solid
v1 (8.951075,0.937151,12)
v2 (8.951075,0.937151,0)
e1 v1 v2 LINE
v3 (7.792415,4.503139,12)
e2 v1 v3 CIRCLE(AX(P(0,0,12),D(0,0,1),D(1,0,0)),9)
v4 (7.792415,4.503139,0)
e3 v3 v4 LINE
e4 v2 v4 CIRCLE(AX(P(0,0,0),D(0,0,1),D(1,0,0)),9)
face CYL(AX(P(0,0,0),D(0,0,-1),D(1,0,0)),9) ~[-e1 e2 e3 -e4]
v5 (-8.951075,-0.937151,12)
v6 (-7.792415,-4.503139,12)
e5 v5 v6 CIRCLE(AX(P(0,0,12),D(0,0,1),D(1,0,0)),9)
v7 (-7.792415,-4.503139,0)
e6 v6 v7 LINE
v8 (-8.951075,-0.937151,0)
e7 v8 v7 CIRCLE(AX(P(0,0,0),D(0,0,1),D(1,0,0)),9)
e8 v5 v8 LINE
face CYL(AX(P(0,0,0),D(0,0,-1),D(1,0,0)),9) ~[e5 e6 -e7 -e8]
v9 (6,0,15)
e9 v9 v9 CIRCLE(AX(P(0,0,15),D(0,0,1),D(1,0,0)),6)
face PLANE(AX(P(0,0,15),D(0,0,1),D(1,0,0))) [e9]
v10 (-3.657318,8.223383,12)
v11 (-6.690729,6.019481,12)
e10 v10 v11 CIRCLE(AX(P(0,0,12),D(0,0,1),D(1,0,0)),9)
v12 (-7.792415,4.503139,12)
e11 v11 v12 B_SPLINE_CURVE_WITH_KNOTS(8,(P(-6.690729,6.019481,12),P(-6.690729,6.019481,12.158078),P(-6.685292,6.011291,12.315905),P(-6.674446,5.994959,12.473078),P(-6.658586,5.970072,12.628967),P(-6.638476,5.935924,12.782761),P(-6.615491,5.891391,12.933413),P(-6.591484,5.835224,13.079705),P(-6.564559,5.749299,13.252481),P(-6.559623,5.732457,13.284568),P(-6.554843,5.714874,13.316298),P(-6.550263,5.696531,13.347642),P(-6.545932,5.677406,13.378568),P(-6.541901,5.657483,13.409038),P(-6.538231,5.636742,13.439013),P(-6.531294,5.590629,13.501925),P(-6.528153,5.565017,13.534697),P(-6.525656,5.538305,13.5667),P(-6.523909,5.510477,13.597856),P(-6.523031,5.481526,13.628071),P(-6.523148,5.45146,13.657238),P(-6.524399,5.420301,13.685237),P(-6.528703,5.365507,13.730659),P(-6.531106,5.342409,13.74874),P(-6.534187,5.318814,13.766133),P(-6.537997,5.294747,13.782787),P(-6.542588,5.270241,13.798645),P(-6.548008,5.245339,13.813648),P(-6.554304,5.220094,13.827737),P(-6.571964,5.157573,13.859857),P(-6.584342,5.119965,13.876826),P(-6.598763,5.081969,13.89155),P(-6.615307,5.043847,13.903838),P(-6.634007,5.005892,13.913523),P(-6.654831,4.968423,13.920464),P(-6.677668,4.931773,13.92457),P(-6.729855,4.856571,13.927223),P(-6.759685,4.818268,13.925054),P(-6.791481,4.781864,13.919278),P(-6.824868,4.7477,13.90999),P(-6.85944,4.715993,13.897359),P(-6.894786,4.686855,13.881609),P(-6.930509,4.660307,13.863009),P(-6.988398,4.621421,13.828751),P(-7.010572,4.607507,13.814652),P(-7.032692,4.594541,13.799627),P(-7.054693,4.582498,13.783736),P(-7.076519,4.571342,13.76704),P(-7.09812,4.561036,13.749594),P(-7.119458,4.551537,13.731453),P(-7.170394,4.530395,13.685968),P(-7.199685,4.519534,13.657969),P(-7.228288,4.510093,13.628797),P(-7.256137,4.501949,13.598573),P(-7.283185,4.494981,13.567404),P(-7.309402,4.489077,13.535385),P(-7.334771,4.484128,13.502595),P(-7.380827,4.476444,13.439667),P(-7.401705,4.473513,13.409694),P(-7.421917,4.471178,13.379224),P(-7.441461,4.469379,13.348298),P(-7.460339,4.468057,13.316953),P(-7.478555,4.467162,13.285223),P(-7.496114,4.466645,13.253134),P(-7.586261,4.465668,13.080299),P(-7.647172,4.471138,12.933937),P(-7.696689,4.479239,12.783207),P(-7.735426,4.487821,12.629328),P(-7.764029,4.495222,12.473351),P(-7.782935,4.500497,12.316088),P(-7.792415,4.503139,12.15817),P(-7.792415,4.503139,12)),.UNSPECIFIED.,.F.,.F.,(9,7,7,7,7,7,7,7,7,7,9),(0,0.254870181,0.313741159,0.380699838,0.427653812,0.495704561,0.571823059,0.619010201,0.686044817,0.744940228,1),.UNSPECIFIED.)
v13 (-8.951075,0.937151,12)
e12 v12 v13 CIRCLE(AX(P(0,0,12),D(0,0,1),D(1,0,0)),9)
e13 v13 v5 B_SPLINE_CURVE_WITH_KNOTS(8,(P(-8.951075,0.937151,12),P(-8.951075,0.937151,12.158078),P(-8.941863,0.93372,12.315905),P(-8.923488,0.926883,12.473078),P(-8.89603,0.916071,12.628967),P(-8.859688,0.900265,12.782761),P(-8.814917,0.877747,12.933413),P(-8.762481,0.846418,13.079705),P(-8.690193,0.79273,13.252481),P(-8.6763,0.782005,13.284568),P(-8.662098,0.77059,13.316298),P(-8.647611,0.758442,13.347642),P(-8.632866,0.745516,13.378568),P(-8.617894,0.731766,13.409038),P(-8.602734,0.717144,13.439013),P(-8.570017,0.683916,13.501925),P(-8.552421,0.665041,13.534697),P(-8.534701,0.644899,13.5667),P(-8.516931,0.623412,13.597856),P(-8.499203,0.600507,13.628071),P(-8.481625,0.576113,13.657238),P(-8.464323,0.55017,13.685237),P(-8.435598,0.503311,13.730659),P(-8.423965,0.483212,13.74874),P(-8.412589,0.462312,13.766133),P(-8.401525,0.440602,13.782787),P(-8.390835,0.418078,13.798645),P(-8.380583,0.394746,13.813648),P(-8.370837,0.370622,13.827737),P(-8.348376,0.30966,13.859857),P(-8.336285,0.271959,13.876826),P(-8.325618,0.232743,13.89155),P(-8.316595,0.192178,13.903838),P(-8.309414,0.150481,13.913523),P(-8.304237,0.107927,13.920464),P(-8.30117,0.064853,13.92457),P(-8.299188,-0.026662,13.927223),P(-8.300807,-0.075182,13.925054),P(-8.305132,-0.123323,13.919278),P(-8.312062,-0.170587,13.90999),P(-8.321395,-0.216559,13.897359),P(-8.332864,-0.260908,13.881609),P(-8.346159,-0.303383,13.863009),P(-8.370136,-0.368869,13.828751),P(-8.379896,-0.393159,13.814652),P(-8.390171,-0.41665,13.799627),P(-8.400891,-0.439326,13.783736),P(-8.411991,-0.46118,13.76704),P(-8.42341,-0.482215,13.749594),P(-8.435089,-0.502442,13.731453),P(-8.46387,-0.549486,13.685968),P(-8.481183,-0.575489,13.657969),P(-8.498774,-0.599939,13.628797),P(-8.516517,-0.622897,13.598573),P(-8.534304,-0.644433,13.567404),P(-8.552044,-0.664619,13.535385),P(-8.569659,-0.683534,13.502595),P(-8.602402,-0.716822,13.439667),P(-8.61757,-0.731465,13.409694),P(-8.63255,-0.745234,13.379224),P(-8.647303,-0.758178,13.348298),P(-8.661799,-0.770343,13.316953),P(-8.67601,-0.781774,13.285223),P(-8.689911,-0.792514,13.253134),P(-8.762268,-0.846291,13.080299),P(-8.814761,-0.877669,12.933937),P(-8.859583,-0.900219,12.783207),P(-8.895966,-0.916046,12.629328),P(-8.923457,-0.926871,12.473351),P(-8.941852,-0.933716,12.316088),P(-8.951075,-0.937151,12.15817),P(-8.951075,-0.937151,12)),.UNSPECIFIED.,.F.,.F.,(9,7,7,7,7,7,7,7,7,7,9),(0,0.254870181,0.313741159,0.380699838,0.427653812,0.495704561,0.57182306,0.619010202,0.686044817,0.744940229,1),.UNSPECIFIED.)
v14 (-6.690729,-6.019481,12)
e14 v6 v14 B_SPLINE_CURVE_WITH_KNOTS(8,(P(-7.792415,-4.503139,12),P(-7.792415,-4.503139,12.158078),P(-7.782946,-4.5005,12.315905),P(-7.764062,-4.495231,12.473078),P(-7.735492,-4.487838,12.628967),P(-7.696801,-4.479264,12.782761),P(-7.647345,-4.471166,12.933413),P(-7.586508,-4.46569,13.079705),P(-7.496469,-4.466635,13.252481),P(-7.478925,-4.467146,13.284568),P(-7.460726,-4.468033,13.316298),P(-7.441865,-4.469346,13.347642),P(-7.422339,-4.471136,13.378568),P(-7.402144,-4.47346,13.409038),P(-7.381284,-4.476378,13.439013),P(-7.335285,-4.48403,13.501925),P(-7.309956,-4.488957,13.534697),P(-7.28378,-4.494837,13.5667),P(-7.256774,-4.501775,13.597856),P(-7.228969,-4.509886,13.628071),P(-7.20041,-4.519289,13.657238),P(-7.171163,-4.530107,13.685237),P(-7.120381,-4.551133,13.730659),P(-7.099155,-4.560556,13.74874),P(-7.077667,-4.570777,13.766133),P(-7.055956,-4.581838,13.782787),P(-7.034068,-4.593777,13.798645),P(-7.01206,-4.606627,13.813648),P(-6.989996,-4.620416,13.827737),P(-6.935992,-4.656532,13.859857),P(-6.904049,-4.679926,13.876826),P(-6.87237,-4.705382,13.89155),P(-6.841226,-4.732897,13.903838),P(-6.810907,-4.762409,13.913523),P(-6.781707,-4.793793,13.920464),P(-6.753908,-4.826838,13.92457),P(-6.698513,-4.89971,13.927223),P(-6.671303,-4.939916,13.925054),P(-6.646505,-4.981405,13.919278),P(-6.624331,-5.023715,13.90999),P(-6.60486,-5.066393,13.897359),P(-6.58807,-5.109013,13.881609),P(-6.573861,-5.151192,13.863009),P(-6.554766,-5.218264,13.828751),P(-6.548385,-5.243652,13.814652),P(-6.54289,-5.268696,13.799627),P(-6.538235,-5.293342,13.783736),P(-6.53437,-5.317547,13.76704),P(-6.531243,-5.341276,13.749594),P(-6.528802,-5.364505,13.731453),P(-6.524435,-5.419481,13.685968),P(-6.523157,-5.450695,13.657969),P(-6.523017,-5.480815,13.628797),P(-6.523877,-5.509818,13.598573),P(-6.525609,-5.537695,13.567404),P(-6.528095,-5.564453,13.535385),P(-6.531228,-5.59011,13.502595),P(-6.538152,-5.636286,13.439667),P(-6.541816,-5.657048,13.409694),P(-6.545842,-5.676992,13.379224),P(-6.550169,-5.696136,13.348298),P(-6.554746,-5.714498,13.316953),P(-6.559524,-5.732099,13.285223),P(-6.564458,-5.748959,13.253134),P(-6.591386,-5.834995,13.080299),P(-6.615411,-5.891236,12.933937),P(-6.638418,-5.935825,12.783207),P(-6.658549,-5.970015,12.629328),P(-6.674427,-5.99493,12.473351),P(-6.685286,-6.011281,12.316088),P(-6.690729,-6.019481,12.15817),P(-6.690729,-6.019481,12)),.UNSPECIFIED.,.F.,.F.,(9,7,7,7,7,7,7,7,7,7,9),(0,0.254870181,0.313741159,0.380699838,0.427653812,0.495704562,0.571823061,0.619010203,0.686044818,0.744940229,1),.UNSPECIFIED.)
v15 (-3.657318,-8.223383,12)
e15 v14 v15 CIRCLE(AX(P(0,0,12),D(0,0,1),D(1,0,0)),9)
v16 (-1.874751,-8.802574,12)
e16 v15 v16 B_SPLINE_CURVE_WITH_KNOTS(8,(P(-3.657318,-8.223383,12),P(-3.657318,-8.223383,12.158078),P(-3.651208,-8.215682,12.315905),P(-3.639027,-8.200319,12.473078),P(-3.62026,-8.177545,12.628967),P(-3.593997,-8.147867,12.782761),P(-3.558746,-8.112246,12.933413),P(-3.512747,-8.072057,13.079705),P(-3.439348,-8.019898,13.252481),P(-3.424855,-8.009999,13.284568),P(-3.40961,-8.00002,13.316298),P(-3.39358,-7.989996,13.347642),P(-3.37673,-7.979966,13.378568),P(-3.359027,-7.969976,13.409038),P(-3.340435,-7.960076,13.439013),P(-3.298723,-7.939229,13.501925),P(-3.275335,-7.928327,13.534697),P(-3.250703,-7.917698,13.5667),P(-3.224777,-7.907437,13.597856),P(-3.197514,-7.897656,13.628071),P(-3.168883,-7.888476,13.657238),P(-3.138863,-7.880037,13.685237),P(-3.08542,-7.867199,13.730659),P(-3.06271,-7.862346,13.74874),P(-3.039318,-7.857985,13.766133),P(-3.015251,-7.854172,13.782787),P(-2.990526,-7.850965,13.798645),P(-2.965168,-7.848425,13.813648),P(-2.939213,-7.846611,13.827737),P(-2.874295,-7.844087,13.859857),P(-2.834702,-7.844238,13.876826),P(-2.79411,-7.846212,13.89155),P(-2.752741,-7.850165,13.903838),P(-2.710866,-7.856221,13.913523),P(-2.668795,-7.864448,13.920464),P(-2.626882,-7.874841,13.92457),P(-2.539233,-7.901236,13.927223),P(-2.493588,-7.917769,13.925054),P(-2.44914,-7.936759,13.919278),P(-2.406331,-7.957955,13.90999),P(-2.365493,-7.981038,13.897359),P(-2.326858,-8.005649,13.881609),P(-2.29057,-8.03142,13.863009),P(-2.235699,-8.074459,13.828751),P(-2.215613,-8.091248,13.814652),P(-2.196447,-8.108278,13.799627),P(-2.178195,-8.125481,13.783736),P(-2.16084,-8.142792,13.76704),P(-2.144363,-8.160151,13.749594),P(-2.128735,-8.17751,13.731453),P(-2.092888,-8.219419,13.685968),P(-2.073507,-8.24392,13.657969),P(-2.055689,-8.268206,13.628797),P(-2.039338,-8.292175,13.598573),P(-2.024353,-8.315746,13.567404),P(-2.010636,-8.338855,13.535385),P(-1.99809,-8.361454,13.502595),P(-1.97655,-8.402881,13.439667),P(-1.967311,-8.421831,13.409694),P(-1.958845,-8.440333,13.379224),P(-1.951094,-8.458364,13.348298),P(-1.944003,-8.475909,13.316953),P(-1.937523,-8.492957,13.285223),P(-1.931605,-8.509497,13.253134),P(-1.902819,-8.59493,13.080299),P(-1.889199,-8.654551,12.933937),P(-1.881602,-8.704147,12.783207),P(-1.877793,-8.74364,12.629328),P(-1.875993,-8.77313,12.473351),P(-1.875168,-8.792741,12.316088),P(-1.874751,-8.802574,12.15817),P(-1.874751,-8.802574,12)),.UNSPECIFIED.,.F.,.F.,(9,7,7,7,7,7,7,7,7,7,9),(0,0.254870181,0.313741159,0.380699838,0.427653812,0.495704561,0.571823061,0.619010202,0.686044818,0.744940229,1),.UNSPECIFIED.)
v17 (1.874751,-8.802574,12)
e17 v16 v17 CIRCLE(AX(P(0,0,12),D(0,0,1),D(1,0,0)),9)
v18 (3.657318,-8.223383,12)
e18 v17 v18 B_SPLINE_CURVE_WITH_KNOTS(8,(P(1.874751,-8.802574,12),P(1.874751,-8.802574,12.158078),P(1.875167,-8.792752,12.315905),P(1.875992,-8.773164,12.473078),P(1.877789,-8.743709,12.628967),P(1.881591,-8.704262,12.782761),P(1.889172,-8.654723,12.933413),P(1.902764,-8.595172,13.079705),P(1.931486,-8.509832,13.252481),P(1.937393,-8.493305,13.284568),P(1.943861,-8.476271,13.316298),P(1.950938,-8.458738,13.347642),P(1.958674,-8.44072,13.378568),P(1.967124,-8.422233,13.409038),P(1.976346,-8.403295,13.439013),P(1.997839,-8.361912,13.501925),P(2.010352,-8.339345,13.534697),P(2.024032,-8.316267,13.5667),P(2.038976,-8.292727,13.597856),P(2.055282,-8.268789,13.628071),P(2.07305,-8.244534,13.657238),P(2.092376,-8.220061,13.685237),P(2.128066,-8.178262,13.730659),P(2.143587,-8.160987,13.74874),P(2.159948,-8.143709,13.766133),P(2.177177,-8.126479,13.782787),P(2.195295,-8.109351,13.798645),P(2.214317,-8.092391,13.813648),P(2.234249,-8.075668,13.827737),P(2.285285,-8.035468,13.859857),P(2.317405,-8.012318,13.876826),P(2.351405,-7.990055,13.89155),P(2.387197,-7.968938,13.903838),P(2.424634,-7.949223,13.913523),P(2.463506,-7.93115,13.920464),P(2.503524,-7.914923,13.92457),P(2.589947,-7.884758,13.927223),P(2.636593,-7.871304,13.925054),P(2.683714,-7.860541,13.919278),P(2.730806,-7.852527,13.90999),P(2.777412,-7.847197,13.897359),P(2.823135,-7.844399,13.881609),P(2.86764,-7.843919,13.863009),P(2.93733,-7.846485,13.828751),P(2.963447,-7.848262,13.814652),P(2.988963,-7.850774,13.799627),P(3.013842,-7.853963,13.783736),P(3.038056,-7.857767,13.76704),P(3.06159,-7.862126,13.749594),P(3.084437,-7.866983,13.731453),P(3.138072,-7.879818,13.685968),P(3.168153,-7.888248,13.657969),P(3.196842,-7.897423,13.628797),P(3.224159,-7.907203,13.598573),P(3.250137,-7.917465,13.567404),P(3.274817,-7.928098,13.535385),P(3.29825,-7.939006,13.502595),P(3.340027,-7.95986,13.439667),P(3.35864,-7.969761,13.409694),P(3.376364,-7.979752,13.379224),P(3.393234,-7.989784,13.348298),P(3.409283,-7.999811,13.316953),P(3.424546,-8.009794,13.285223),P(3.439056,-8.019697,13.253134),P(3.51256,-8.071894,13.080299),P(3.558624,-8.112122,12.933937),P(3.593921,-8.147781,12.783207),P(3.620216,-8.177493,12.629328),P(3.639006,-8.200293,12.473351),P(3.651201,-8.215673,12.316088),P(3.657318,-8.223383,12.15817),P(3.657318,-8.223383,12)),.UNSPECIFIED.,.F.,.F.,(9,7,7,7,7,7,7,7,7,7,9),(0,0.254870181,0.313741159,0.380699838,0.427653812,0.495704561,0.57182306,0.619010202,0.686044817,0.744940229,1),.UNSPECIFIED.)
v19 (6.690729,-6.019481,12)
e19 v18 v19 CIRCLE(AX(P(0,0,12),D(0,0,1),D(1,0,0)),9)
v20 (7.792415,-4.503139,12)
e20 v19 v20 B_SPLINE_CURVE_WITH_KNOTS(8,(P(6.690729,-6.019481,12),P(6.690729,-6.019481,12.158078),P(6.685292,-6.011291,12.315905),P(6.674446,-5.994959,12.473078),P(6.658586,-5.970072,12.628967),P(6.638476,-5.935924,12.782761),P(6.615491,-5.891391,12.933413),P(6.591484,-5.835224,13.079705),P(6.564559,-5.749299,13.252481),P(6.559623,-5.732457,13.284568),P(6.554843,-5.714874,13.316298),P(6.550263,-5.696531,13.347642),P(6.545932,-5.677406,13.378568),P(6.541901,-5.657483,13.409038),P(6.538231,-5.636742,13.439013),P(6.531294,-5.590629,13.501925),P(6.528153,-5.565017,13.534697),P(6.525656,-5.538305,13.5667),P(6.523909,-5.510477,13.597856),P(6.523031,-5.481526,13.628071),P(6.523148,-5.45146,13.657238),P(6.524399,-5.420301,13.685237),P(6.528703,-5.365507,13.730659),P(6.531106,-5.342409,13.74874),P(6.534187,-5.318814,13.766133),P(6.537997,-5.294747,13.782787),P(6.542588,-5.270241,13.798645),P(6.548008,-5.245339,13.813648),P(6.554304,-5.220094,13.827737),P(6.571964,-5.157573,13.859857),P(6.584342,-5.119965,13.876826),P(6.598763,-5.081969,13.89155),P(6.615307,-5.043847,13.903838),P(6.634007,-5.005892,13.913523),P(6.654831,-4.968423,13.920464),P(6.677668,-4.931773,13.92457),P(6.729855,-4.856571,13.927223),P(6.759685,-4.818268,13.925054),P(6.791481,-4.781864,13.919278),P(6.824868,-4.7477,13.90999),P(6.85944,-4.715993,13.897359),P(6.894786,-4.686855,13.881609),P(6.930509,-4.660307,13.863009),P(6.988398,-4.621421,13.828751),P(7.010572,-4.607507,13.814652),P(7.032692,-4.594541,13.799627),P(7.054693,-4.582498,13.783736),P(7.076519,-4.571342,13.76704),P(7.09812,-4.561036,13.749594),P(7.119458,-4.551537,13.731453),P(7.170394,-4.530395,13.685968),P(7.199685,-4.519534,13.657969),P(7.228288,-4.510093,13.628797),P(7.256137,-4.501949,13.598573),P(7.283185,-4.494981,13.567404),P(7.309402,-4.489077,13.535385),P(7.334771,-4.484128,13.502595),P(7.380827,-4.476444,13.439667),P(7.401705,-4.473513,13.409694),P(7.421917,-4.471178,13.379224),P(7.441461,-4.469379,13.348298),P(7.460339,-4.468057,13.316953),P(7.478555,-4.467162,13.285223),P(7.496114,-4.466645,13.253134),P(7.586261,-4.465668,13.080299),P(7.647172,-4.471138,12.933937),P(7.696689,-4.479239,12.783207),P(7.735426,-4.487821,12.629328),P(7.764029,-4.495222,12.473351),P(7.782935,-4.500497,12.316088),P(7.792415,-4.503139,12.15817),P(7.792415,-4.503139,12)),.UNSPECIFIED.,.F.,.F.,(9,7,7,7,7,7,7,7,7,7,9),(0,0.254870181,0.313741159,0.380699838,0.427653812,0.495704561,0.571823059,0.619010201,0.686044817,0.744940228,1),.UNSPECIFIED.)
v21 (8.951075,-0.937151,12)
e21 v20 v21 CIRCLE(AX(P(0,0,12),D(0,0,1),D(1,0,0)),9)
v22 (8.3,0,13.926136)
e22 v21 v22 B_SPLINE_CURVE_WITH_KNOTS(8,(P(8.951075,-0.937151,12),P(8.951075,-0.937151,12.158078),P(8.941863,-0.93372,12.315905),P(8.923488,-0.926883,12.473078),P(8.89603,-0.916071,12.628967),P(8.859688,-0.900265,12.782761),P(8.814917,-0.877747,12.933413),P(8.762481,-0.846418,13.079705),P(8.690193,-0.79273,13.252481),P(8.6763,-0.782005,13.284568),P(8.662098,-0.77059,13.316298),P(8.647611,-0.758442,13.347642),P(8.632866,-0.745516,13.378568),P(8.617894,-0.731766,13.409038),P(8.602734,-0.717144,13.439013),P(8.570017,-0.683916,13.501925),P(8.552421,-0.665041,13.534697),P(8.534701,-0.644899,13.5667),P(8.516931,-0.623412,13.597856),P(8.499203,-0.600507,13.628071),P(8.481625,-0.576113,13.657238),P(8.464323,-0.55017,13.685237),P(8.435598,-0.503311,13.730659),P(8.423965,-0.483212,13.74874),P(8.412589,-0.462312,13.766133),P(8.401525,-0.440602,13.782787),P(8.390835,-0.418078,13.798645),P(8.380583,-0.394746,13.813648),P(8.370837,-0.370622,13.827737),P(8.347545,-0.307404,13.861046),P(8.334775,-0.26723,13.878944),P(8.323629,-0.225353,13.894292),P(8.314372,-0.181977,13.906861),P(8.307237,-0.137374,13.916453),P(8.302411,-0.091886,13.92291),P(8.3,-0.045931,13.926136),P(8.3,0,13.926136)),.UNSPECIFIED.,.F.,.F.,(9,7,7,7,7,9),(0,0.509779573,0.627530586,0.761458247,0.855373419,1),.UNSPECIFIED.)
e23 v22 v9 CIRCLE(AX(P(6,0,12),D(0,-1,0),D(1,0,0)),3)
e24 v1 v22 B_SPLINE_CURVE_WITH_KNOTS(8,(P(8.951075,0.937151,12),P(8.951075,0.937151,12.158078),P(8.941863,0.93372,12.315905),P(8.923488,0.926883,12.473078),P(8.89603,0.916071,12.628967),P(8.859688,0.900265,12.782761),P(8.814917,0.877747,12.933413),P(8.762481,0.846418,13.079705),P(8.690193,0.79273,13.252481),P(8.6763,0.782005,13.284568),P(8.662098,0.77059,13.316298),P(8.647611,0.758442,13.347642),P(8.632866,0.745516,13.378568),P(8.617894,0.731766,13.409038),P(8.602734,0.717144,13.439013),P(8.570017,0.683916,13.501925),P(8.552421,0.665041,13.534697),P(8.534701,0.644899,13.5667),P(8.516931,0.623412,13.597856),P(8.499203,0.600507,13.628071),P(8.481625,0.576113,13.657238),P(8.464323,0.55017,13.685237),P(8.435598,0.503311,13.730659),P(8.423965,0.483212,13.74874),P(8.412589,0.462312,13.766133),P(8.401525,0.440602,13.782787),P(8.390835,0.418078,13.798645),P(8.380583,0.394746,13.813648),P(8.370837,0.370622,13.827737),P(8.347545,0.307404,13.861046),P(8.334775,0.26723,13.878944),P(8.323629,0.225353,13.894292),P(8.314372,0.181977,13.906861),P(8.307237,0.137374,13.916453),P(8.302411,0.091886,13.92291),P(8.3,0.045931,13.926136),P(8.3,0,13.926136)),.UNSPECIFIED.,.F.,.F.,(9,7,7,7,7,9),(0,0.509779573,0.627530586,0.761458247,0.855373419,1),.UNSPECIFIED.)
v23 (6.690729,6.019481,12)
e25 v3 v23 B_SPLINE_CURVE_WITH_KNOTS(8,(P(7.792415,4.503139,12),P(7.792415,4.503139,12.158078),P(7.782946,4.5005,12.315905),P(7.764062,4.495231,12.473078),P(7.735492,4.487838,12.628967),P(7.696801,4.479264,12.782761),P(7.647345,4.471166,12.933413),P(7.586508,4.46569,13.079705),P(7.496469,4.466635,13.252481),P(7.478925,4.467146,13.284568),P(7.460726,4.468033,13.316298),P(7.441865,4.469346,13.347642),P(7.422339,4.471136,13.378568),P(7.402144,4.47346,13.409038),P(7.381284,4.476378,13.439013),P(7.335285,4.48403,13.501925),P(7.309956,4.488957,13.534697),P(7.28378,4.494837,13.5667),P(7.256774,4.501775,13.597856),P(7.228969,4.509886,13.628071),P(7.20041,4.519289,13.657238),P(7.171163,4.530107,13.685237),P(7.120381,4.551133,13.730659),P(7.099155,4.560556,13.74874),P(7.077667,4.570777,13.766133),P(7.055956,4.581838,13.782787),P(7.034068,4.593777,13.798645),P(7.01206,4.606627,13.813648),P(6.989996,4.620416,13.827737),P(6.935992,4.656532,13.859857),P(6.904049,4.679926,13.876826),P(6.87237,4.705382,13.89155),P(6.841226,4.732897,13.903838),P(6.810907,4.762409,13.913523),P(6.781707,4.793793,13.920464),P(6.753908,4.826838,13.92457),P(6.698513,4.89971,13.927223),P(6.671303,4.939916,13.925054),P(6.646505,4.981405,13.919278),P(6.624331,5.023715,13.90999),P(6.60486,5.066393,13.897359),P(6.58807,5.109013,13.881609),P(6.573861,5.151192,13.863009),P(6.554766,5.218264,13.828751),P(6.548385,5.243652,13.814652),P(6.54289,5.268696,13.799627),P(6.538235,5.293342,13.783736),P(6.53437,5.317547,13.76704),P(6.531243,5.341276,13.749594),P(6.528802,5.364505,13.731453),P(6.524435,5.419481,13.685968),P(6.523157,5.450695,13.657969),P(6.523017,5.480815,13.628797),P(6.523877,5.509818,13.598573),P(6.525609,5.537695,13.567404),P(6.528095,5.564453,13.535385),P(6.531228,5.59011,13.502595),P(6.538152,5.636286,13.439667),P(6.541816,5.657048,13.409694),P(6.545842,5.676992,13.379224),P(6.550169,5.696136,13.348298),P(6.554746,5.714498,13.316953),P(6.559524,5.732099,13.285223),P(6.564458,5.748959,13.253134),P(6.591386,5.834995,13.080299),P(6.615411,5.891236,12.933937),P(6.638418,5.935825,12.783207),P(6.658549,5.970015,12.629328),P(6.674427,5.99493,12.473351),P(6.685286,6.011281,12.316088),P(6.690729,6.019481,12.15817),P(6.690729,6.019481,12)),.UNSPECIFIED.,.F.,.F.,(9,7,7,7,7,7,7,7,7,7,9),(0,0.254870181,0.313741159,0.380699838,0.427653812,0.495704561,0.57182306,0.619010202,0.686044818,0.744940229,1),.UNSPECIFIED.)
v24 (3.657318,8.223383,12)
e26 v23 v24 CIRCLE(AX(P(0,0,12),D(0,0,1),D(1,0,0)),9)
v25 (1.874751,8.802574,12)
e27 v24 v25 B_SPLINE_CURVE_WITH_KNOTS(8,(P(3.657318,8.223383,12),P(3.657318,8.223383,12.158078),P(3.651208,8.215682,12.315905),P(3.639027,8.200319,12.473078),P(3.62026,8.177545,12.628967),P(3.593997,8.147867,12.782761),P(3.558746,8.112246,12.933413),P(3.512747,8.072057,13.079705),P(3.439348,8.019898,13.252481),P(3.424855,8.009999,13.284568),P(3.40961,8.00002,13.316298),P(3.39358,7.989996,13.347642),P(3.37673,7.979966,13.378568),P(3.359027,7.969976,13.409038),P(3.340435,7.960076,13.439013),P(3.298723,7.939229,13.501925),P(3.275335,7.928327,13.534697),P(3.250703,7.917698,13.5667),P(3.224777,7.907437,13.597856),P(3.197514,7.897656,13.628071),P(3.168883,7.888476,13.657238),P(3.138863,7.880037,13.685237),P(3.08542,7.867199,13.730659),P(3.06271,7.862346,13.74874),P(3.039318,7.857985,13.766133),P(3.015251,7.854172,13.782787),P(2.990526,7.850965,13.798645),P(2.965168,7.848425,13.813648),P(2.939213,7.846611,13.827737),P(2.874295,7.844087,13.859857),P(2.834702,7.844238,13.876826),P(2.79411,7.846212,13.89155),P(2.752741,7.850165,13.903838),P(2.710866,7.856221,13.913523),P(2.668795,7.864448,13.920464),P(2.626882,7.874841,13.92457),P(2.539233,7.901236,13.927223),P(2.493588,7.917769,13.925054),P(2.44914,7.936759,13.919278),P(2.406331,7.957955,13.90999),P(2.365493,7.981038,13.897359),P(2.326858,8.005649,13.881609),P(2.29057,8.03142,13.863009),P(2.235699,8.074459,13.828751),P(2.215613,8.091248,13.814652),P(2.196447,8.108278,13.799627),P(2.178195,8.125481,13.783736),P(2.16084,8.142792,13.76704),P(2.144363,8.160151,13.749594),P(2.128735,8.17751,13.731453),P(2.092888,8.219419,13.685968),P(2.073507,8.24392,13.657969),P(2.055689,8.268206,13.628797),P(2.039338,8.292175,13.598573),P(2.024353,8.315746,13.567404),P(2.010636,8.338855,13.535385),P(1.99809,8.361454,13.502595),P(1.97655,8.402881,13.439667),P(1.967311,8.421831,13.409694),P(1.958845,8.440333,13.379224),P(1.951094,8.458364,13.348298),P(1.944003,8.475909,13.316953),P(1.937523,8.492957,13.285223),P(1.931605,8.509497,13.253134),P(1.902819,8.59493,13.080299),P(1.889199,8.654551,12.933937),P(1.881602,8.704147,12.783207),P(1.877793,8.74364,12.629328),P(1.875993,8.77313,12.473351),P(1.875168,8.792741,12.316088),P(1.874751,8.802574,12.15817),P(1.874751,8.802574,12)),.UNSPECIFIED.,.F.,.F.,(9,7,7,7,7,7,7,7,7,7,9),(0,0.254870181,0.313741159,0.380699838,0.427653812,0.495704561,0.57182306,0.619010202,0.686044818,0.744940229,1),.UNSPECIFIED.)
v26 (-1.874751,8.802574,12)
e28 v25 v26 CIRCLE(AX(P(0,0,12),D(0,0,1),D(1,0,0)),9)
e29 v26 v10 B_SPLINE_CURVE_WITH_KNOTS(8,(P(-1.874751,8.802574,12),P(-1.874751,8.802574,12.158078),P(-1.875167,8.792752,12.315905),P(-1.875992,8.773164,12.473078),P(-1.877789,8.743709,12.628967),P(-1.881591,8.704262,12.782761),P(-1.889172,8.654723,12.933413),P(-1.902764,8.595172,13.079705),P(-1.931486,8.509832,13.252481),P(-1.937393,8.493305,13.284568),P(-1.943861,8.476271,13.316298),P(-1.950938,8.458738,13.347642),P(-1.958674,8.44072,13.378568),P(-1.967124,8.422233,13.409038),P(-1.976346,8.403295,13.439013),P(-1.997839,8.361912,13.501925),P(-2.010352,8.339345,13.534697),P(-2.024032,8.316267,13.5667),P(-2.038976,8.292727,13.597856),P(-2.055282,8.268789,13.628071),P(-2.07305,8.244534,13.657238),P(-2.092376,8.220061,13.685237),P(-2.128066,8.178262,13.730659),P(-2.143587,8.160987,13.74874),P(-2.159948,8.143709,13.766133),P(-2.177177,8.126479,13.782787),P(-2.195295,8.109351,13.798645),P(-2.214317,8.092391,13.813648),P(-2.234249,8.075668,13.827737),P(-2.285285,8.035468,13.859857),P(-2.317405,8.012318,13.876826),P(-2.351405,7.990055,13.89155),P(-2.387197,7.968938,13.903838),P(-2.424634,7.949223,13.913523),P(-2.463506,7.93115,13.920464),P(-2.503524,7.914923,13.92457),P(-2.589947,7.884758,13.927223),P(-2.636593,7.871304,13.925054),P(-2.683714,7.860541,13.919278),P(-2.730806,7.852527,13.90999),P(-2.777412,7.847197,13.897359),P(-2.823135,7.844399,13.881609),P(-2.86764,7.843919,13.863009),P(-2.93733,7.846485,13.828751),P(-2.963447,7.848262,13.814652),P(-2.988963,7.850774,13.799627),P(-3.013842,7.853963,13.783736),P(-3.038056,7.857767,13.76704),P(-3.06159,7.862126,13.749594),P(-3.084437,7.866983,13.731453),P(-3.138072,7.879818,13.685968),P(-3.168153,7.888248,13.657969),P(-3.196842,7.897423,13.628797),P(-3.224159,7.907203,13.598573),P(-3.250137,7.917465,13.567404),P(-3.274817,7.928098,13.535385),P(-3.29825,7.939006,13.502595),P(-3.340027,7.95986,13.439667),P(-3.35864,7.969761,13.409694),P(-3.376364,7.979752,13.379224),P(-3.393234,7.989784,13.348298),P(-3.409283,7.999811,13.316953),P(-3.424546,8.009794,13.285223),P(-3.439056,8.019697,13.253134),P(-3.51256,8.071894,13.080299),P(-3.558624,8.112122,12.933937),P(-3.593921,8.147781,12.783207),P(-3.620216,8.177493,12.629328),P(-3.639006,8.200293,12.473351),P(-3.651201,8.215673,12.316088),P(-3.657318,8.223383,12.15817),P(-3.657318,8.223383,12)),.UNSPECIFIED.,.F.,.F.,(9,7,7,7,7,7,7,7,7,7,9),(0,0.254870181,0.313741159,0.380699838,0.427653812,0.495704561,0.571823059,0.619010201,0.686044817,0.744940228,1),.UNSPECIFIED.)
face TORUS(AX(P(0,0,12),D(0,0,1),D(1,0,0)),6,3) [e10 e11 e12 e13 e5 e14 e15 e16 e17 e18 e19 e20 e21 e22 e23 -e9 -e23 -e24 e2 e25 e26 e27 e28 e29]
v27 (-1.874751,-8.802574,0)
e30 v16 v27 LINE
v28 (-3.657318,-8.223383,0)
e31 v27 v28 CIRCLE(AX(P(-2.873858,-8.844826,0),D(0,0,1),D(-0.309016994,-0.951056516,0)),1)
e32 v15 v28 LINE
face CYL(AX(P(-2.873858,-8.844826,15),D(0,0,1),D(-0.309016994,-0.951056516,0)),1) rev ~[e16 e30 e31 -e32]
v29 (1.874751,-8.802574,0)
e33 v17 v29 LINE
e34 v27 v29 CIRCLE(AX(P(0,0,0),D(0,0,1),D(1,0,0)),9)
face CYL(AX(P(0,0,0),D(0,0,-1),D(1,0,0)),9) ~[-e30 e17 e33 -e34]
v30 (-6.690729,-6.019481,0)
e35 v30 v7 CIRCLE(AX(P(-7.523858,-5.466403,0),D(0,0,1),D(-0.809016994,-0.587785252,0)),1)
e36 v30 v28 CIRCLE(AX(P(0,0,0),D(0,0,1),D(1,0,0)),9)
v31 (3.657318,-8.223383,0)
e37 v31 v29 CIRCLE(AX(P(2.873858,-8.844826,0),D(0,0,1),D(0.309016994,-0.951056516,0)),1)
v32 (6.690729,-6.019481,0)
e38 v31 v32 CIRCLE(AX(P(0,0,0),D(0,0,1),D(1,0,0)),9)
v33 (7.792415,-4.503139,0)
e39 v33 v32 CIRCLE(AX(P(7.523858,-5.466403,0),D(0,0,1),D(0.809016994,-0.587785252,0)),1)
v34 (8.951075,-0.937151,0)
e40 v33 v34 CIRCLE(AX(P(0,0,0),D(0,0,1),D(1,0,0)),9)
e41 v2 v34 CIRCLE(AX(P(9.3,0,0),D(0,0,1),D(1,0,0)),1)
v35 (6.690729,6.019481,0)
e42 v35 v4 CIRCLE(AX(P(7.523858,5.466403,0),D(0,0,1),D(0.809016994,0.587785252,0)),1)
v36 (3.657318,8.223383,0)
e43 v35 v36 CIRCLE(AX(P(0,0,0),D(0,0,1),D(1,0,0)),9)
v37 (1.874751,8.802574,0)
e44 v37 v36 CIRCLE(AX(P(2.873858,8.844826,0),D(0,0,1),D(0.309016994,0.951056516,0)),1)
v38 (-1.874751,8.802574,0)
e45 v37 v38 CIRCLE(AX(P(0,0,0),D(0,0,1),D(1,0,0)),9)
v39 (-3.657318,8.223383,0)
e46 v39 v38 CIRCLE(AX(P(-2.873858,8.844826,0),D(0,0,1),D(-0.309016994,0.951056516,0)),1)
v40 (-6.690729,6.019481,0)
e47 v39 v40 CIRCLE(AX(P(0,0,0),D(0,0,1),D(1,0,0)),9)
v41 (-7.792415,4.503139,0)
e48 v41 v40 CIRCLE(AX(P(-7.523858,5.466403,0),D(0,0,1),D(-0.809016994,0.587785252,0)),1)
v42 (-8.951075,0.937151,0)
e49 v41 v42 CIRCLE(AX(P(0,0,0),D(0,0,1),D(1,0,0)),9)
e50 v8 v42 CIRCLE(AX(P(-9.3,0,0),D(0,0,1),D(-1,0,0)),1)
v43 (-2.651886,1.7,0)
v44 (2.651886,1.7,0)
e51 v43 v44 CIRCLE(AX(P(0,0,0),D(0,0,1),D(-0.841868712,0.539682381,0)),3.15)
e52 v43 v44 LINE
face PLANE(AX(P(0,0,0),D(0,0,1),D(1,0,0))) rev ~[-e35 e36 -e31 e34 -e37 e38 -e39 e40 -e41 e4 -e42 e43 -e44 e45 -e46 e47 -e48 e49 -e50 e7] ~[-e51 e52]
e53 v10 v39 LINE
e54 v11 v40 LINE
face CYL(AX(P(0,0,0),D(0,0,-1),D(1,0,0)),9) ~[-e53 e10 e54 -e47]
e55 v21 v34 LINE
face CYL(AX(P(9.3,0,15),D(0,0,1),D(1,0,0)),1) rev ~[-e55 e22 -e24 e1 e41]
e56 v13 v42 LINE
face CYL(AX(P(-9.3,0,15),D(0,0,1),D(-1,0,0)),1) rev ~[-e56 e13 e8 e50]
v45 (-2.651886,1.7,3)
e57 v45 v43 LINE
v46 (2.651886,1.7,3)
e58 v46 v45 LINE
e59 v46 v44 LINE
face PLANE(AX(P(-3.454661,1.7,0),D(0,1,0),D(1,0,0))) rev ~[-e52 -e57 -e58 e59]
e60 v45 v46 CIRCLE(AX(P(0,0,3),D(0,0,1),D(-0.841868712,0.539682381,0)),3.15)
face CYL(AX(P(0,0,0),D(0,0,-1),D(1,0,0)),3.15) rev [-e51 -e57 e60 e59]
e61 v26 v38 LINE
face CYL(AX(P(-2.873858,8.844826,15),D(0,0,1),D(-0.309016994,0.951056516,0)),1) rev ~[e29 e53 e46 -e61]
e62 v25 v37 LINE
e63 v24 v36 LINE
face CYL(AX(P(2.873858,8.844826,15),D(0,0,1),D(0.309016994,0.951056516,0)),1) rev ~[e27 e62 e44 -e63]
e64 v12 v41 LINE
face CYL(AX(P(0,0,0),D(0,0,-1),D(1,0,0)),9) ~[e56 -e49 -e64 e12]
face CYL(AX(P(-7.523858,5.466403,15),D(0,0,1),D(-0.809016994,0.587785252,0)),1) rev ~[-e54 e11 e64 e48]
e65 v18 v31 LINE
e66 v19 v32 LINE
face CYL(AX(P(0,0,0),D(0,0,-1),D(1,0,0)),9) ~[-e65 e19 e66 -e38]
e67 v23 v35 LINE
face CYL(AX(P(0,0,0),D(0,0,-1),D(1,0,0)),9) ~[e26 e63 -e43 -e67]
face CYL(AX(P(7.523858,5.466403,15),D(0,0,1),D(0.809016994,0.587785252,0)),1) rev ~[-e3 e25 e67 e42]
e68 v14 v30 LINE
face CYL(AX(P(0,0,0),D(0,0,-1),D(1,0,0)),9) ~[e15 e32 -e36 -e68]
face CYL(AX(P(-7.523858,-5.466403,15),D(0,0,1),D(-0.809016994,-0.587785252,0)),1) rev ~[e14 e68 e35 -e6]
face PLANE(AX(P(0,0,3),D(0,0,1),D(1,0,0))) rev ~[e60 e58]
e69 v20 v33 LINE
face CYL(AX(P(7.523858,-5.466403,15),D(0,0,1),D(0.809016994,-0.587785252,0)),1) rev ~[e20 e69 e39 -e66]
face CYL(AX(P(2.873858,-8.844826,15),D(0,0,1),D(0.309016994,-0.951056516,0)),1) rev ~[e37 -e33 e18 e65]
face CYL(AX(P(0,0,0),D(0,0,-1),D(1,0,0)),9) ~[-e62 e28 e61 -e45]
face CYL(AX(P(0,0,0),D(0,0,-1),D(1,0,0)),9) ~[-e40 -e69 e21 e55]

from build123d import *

# Parameters (mm, degrees)
SKETCH_R           = 9
SKETCH_R_2         = 3.15
PAD_DEPTH          = 15
SKETCH001_R        = 9
PAD001_DEPTH       = 12
FILLET_R           = 3
SKETCH002_R        = 1
POCKET_DEPTH       = 15
POLARPATTERN_COUNT = 10
SKETCH003_W        = 7.258159
SKETCH003_H        = 2.087937
PAD002_DEPTH       = 10


with BuildPart() as part:
    # Sketch → Pad (new body)
    with BuildSketch(Plane.XY):
        Circle(SKETCH_R)
        Circle(SKETCH_R_2, mode=Mode.SUBTRACT)
    extrude(amount=PAD_DEPTH)

    # Sketch001 (on Face4 of Pad) → Pad001 (join)
    with BuildSketch(Plane.XY.offset(15)):
        Circle(SKETCH001_R)
    extrude(amount=-PAD001_DEPTH)

    # Fillet
    fillet_edges = [part.edges().sort_by_distance(p)[0] for p in [
        (-9, 0, 15),
    ]]
    fillet(fillet_edges, radius=FILLET_R)

    # Sketch002 (on Face6 of Fillet) → Pocket (cut)
    with BuildSketch(Plane.XY.offset(15)):
        with Locations((9.3, 0)):
            Circle(SKETCH002_R)
    pocket = extrude(amount=-POCKET_DEPTH, mode=Mode.SUBTRACT)

    # PolarPattern: Pocket ×10 about axis
    polarpattern_axis = Axis((0, 0, 0), (0, 0, 1))
    for i in range(1, POLARPATTERN_COUNT):
        add(pocket.rotate(polarpattern_axis, i * 360 / POLARPATTERN_COUNT), mode=Mode.SUBTRACT)

    # Sketch003 (on Face8 of PolarPattern) → Pad002 (join)
    with BuildSketch(Plane(origin=(0, 0, 0), x_dir=(1, 0, 0), z_dir=(0, 0, -1))):
        with Locations((0.174419, -2.743968)):
            Rectangle(SKETCH003_W, SKETCH003_H)
    extrude(amount=-PAD002_DEPTH)


solid = part.part
